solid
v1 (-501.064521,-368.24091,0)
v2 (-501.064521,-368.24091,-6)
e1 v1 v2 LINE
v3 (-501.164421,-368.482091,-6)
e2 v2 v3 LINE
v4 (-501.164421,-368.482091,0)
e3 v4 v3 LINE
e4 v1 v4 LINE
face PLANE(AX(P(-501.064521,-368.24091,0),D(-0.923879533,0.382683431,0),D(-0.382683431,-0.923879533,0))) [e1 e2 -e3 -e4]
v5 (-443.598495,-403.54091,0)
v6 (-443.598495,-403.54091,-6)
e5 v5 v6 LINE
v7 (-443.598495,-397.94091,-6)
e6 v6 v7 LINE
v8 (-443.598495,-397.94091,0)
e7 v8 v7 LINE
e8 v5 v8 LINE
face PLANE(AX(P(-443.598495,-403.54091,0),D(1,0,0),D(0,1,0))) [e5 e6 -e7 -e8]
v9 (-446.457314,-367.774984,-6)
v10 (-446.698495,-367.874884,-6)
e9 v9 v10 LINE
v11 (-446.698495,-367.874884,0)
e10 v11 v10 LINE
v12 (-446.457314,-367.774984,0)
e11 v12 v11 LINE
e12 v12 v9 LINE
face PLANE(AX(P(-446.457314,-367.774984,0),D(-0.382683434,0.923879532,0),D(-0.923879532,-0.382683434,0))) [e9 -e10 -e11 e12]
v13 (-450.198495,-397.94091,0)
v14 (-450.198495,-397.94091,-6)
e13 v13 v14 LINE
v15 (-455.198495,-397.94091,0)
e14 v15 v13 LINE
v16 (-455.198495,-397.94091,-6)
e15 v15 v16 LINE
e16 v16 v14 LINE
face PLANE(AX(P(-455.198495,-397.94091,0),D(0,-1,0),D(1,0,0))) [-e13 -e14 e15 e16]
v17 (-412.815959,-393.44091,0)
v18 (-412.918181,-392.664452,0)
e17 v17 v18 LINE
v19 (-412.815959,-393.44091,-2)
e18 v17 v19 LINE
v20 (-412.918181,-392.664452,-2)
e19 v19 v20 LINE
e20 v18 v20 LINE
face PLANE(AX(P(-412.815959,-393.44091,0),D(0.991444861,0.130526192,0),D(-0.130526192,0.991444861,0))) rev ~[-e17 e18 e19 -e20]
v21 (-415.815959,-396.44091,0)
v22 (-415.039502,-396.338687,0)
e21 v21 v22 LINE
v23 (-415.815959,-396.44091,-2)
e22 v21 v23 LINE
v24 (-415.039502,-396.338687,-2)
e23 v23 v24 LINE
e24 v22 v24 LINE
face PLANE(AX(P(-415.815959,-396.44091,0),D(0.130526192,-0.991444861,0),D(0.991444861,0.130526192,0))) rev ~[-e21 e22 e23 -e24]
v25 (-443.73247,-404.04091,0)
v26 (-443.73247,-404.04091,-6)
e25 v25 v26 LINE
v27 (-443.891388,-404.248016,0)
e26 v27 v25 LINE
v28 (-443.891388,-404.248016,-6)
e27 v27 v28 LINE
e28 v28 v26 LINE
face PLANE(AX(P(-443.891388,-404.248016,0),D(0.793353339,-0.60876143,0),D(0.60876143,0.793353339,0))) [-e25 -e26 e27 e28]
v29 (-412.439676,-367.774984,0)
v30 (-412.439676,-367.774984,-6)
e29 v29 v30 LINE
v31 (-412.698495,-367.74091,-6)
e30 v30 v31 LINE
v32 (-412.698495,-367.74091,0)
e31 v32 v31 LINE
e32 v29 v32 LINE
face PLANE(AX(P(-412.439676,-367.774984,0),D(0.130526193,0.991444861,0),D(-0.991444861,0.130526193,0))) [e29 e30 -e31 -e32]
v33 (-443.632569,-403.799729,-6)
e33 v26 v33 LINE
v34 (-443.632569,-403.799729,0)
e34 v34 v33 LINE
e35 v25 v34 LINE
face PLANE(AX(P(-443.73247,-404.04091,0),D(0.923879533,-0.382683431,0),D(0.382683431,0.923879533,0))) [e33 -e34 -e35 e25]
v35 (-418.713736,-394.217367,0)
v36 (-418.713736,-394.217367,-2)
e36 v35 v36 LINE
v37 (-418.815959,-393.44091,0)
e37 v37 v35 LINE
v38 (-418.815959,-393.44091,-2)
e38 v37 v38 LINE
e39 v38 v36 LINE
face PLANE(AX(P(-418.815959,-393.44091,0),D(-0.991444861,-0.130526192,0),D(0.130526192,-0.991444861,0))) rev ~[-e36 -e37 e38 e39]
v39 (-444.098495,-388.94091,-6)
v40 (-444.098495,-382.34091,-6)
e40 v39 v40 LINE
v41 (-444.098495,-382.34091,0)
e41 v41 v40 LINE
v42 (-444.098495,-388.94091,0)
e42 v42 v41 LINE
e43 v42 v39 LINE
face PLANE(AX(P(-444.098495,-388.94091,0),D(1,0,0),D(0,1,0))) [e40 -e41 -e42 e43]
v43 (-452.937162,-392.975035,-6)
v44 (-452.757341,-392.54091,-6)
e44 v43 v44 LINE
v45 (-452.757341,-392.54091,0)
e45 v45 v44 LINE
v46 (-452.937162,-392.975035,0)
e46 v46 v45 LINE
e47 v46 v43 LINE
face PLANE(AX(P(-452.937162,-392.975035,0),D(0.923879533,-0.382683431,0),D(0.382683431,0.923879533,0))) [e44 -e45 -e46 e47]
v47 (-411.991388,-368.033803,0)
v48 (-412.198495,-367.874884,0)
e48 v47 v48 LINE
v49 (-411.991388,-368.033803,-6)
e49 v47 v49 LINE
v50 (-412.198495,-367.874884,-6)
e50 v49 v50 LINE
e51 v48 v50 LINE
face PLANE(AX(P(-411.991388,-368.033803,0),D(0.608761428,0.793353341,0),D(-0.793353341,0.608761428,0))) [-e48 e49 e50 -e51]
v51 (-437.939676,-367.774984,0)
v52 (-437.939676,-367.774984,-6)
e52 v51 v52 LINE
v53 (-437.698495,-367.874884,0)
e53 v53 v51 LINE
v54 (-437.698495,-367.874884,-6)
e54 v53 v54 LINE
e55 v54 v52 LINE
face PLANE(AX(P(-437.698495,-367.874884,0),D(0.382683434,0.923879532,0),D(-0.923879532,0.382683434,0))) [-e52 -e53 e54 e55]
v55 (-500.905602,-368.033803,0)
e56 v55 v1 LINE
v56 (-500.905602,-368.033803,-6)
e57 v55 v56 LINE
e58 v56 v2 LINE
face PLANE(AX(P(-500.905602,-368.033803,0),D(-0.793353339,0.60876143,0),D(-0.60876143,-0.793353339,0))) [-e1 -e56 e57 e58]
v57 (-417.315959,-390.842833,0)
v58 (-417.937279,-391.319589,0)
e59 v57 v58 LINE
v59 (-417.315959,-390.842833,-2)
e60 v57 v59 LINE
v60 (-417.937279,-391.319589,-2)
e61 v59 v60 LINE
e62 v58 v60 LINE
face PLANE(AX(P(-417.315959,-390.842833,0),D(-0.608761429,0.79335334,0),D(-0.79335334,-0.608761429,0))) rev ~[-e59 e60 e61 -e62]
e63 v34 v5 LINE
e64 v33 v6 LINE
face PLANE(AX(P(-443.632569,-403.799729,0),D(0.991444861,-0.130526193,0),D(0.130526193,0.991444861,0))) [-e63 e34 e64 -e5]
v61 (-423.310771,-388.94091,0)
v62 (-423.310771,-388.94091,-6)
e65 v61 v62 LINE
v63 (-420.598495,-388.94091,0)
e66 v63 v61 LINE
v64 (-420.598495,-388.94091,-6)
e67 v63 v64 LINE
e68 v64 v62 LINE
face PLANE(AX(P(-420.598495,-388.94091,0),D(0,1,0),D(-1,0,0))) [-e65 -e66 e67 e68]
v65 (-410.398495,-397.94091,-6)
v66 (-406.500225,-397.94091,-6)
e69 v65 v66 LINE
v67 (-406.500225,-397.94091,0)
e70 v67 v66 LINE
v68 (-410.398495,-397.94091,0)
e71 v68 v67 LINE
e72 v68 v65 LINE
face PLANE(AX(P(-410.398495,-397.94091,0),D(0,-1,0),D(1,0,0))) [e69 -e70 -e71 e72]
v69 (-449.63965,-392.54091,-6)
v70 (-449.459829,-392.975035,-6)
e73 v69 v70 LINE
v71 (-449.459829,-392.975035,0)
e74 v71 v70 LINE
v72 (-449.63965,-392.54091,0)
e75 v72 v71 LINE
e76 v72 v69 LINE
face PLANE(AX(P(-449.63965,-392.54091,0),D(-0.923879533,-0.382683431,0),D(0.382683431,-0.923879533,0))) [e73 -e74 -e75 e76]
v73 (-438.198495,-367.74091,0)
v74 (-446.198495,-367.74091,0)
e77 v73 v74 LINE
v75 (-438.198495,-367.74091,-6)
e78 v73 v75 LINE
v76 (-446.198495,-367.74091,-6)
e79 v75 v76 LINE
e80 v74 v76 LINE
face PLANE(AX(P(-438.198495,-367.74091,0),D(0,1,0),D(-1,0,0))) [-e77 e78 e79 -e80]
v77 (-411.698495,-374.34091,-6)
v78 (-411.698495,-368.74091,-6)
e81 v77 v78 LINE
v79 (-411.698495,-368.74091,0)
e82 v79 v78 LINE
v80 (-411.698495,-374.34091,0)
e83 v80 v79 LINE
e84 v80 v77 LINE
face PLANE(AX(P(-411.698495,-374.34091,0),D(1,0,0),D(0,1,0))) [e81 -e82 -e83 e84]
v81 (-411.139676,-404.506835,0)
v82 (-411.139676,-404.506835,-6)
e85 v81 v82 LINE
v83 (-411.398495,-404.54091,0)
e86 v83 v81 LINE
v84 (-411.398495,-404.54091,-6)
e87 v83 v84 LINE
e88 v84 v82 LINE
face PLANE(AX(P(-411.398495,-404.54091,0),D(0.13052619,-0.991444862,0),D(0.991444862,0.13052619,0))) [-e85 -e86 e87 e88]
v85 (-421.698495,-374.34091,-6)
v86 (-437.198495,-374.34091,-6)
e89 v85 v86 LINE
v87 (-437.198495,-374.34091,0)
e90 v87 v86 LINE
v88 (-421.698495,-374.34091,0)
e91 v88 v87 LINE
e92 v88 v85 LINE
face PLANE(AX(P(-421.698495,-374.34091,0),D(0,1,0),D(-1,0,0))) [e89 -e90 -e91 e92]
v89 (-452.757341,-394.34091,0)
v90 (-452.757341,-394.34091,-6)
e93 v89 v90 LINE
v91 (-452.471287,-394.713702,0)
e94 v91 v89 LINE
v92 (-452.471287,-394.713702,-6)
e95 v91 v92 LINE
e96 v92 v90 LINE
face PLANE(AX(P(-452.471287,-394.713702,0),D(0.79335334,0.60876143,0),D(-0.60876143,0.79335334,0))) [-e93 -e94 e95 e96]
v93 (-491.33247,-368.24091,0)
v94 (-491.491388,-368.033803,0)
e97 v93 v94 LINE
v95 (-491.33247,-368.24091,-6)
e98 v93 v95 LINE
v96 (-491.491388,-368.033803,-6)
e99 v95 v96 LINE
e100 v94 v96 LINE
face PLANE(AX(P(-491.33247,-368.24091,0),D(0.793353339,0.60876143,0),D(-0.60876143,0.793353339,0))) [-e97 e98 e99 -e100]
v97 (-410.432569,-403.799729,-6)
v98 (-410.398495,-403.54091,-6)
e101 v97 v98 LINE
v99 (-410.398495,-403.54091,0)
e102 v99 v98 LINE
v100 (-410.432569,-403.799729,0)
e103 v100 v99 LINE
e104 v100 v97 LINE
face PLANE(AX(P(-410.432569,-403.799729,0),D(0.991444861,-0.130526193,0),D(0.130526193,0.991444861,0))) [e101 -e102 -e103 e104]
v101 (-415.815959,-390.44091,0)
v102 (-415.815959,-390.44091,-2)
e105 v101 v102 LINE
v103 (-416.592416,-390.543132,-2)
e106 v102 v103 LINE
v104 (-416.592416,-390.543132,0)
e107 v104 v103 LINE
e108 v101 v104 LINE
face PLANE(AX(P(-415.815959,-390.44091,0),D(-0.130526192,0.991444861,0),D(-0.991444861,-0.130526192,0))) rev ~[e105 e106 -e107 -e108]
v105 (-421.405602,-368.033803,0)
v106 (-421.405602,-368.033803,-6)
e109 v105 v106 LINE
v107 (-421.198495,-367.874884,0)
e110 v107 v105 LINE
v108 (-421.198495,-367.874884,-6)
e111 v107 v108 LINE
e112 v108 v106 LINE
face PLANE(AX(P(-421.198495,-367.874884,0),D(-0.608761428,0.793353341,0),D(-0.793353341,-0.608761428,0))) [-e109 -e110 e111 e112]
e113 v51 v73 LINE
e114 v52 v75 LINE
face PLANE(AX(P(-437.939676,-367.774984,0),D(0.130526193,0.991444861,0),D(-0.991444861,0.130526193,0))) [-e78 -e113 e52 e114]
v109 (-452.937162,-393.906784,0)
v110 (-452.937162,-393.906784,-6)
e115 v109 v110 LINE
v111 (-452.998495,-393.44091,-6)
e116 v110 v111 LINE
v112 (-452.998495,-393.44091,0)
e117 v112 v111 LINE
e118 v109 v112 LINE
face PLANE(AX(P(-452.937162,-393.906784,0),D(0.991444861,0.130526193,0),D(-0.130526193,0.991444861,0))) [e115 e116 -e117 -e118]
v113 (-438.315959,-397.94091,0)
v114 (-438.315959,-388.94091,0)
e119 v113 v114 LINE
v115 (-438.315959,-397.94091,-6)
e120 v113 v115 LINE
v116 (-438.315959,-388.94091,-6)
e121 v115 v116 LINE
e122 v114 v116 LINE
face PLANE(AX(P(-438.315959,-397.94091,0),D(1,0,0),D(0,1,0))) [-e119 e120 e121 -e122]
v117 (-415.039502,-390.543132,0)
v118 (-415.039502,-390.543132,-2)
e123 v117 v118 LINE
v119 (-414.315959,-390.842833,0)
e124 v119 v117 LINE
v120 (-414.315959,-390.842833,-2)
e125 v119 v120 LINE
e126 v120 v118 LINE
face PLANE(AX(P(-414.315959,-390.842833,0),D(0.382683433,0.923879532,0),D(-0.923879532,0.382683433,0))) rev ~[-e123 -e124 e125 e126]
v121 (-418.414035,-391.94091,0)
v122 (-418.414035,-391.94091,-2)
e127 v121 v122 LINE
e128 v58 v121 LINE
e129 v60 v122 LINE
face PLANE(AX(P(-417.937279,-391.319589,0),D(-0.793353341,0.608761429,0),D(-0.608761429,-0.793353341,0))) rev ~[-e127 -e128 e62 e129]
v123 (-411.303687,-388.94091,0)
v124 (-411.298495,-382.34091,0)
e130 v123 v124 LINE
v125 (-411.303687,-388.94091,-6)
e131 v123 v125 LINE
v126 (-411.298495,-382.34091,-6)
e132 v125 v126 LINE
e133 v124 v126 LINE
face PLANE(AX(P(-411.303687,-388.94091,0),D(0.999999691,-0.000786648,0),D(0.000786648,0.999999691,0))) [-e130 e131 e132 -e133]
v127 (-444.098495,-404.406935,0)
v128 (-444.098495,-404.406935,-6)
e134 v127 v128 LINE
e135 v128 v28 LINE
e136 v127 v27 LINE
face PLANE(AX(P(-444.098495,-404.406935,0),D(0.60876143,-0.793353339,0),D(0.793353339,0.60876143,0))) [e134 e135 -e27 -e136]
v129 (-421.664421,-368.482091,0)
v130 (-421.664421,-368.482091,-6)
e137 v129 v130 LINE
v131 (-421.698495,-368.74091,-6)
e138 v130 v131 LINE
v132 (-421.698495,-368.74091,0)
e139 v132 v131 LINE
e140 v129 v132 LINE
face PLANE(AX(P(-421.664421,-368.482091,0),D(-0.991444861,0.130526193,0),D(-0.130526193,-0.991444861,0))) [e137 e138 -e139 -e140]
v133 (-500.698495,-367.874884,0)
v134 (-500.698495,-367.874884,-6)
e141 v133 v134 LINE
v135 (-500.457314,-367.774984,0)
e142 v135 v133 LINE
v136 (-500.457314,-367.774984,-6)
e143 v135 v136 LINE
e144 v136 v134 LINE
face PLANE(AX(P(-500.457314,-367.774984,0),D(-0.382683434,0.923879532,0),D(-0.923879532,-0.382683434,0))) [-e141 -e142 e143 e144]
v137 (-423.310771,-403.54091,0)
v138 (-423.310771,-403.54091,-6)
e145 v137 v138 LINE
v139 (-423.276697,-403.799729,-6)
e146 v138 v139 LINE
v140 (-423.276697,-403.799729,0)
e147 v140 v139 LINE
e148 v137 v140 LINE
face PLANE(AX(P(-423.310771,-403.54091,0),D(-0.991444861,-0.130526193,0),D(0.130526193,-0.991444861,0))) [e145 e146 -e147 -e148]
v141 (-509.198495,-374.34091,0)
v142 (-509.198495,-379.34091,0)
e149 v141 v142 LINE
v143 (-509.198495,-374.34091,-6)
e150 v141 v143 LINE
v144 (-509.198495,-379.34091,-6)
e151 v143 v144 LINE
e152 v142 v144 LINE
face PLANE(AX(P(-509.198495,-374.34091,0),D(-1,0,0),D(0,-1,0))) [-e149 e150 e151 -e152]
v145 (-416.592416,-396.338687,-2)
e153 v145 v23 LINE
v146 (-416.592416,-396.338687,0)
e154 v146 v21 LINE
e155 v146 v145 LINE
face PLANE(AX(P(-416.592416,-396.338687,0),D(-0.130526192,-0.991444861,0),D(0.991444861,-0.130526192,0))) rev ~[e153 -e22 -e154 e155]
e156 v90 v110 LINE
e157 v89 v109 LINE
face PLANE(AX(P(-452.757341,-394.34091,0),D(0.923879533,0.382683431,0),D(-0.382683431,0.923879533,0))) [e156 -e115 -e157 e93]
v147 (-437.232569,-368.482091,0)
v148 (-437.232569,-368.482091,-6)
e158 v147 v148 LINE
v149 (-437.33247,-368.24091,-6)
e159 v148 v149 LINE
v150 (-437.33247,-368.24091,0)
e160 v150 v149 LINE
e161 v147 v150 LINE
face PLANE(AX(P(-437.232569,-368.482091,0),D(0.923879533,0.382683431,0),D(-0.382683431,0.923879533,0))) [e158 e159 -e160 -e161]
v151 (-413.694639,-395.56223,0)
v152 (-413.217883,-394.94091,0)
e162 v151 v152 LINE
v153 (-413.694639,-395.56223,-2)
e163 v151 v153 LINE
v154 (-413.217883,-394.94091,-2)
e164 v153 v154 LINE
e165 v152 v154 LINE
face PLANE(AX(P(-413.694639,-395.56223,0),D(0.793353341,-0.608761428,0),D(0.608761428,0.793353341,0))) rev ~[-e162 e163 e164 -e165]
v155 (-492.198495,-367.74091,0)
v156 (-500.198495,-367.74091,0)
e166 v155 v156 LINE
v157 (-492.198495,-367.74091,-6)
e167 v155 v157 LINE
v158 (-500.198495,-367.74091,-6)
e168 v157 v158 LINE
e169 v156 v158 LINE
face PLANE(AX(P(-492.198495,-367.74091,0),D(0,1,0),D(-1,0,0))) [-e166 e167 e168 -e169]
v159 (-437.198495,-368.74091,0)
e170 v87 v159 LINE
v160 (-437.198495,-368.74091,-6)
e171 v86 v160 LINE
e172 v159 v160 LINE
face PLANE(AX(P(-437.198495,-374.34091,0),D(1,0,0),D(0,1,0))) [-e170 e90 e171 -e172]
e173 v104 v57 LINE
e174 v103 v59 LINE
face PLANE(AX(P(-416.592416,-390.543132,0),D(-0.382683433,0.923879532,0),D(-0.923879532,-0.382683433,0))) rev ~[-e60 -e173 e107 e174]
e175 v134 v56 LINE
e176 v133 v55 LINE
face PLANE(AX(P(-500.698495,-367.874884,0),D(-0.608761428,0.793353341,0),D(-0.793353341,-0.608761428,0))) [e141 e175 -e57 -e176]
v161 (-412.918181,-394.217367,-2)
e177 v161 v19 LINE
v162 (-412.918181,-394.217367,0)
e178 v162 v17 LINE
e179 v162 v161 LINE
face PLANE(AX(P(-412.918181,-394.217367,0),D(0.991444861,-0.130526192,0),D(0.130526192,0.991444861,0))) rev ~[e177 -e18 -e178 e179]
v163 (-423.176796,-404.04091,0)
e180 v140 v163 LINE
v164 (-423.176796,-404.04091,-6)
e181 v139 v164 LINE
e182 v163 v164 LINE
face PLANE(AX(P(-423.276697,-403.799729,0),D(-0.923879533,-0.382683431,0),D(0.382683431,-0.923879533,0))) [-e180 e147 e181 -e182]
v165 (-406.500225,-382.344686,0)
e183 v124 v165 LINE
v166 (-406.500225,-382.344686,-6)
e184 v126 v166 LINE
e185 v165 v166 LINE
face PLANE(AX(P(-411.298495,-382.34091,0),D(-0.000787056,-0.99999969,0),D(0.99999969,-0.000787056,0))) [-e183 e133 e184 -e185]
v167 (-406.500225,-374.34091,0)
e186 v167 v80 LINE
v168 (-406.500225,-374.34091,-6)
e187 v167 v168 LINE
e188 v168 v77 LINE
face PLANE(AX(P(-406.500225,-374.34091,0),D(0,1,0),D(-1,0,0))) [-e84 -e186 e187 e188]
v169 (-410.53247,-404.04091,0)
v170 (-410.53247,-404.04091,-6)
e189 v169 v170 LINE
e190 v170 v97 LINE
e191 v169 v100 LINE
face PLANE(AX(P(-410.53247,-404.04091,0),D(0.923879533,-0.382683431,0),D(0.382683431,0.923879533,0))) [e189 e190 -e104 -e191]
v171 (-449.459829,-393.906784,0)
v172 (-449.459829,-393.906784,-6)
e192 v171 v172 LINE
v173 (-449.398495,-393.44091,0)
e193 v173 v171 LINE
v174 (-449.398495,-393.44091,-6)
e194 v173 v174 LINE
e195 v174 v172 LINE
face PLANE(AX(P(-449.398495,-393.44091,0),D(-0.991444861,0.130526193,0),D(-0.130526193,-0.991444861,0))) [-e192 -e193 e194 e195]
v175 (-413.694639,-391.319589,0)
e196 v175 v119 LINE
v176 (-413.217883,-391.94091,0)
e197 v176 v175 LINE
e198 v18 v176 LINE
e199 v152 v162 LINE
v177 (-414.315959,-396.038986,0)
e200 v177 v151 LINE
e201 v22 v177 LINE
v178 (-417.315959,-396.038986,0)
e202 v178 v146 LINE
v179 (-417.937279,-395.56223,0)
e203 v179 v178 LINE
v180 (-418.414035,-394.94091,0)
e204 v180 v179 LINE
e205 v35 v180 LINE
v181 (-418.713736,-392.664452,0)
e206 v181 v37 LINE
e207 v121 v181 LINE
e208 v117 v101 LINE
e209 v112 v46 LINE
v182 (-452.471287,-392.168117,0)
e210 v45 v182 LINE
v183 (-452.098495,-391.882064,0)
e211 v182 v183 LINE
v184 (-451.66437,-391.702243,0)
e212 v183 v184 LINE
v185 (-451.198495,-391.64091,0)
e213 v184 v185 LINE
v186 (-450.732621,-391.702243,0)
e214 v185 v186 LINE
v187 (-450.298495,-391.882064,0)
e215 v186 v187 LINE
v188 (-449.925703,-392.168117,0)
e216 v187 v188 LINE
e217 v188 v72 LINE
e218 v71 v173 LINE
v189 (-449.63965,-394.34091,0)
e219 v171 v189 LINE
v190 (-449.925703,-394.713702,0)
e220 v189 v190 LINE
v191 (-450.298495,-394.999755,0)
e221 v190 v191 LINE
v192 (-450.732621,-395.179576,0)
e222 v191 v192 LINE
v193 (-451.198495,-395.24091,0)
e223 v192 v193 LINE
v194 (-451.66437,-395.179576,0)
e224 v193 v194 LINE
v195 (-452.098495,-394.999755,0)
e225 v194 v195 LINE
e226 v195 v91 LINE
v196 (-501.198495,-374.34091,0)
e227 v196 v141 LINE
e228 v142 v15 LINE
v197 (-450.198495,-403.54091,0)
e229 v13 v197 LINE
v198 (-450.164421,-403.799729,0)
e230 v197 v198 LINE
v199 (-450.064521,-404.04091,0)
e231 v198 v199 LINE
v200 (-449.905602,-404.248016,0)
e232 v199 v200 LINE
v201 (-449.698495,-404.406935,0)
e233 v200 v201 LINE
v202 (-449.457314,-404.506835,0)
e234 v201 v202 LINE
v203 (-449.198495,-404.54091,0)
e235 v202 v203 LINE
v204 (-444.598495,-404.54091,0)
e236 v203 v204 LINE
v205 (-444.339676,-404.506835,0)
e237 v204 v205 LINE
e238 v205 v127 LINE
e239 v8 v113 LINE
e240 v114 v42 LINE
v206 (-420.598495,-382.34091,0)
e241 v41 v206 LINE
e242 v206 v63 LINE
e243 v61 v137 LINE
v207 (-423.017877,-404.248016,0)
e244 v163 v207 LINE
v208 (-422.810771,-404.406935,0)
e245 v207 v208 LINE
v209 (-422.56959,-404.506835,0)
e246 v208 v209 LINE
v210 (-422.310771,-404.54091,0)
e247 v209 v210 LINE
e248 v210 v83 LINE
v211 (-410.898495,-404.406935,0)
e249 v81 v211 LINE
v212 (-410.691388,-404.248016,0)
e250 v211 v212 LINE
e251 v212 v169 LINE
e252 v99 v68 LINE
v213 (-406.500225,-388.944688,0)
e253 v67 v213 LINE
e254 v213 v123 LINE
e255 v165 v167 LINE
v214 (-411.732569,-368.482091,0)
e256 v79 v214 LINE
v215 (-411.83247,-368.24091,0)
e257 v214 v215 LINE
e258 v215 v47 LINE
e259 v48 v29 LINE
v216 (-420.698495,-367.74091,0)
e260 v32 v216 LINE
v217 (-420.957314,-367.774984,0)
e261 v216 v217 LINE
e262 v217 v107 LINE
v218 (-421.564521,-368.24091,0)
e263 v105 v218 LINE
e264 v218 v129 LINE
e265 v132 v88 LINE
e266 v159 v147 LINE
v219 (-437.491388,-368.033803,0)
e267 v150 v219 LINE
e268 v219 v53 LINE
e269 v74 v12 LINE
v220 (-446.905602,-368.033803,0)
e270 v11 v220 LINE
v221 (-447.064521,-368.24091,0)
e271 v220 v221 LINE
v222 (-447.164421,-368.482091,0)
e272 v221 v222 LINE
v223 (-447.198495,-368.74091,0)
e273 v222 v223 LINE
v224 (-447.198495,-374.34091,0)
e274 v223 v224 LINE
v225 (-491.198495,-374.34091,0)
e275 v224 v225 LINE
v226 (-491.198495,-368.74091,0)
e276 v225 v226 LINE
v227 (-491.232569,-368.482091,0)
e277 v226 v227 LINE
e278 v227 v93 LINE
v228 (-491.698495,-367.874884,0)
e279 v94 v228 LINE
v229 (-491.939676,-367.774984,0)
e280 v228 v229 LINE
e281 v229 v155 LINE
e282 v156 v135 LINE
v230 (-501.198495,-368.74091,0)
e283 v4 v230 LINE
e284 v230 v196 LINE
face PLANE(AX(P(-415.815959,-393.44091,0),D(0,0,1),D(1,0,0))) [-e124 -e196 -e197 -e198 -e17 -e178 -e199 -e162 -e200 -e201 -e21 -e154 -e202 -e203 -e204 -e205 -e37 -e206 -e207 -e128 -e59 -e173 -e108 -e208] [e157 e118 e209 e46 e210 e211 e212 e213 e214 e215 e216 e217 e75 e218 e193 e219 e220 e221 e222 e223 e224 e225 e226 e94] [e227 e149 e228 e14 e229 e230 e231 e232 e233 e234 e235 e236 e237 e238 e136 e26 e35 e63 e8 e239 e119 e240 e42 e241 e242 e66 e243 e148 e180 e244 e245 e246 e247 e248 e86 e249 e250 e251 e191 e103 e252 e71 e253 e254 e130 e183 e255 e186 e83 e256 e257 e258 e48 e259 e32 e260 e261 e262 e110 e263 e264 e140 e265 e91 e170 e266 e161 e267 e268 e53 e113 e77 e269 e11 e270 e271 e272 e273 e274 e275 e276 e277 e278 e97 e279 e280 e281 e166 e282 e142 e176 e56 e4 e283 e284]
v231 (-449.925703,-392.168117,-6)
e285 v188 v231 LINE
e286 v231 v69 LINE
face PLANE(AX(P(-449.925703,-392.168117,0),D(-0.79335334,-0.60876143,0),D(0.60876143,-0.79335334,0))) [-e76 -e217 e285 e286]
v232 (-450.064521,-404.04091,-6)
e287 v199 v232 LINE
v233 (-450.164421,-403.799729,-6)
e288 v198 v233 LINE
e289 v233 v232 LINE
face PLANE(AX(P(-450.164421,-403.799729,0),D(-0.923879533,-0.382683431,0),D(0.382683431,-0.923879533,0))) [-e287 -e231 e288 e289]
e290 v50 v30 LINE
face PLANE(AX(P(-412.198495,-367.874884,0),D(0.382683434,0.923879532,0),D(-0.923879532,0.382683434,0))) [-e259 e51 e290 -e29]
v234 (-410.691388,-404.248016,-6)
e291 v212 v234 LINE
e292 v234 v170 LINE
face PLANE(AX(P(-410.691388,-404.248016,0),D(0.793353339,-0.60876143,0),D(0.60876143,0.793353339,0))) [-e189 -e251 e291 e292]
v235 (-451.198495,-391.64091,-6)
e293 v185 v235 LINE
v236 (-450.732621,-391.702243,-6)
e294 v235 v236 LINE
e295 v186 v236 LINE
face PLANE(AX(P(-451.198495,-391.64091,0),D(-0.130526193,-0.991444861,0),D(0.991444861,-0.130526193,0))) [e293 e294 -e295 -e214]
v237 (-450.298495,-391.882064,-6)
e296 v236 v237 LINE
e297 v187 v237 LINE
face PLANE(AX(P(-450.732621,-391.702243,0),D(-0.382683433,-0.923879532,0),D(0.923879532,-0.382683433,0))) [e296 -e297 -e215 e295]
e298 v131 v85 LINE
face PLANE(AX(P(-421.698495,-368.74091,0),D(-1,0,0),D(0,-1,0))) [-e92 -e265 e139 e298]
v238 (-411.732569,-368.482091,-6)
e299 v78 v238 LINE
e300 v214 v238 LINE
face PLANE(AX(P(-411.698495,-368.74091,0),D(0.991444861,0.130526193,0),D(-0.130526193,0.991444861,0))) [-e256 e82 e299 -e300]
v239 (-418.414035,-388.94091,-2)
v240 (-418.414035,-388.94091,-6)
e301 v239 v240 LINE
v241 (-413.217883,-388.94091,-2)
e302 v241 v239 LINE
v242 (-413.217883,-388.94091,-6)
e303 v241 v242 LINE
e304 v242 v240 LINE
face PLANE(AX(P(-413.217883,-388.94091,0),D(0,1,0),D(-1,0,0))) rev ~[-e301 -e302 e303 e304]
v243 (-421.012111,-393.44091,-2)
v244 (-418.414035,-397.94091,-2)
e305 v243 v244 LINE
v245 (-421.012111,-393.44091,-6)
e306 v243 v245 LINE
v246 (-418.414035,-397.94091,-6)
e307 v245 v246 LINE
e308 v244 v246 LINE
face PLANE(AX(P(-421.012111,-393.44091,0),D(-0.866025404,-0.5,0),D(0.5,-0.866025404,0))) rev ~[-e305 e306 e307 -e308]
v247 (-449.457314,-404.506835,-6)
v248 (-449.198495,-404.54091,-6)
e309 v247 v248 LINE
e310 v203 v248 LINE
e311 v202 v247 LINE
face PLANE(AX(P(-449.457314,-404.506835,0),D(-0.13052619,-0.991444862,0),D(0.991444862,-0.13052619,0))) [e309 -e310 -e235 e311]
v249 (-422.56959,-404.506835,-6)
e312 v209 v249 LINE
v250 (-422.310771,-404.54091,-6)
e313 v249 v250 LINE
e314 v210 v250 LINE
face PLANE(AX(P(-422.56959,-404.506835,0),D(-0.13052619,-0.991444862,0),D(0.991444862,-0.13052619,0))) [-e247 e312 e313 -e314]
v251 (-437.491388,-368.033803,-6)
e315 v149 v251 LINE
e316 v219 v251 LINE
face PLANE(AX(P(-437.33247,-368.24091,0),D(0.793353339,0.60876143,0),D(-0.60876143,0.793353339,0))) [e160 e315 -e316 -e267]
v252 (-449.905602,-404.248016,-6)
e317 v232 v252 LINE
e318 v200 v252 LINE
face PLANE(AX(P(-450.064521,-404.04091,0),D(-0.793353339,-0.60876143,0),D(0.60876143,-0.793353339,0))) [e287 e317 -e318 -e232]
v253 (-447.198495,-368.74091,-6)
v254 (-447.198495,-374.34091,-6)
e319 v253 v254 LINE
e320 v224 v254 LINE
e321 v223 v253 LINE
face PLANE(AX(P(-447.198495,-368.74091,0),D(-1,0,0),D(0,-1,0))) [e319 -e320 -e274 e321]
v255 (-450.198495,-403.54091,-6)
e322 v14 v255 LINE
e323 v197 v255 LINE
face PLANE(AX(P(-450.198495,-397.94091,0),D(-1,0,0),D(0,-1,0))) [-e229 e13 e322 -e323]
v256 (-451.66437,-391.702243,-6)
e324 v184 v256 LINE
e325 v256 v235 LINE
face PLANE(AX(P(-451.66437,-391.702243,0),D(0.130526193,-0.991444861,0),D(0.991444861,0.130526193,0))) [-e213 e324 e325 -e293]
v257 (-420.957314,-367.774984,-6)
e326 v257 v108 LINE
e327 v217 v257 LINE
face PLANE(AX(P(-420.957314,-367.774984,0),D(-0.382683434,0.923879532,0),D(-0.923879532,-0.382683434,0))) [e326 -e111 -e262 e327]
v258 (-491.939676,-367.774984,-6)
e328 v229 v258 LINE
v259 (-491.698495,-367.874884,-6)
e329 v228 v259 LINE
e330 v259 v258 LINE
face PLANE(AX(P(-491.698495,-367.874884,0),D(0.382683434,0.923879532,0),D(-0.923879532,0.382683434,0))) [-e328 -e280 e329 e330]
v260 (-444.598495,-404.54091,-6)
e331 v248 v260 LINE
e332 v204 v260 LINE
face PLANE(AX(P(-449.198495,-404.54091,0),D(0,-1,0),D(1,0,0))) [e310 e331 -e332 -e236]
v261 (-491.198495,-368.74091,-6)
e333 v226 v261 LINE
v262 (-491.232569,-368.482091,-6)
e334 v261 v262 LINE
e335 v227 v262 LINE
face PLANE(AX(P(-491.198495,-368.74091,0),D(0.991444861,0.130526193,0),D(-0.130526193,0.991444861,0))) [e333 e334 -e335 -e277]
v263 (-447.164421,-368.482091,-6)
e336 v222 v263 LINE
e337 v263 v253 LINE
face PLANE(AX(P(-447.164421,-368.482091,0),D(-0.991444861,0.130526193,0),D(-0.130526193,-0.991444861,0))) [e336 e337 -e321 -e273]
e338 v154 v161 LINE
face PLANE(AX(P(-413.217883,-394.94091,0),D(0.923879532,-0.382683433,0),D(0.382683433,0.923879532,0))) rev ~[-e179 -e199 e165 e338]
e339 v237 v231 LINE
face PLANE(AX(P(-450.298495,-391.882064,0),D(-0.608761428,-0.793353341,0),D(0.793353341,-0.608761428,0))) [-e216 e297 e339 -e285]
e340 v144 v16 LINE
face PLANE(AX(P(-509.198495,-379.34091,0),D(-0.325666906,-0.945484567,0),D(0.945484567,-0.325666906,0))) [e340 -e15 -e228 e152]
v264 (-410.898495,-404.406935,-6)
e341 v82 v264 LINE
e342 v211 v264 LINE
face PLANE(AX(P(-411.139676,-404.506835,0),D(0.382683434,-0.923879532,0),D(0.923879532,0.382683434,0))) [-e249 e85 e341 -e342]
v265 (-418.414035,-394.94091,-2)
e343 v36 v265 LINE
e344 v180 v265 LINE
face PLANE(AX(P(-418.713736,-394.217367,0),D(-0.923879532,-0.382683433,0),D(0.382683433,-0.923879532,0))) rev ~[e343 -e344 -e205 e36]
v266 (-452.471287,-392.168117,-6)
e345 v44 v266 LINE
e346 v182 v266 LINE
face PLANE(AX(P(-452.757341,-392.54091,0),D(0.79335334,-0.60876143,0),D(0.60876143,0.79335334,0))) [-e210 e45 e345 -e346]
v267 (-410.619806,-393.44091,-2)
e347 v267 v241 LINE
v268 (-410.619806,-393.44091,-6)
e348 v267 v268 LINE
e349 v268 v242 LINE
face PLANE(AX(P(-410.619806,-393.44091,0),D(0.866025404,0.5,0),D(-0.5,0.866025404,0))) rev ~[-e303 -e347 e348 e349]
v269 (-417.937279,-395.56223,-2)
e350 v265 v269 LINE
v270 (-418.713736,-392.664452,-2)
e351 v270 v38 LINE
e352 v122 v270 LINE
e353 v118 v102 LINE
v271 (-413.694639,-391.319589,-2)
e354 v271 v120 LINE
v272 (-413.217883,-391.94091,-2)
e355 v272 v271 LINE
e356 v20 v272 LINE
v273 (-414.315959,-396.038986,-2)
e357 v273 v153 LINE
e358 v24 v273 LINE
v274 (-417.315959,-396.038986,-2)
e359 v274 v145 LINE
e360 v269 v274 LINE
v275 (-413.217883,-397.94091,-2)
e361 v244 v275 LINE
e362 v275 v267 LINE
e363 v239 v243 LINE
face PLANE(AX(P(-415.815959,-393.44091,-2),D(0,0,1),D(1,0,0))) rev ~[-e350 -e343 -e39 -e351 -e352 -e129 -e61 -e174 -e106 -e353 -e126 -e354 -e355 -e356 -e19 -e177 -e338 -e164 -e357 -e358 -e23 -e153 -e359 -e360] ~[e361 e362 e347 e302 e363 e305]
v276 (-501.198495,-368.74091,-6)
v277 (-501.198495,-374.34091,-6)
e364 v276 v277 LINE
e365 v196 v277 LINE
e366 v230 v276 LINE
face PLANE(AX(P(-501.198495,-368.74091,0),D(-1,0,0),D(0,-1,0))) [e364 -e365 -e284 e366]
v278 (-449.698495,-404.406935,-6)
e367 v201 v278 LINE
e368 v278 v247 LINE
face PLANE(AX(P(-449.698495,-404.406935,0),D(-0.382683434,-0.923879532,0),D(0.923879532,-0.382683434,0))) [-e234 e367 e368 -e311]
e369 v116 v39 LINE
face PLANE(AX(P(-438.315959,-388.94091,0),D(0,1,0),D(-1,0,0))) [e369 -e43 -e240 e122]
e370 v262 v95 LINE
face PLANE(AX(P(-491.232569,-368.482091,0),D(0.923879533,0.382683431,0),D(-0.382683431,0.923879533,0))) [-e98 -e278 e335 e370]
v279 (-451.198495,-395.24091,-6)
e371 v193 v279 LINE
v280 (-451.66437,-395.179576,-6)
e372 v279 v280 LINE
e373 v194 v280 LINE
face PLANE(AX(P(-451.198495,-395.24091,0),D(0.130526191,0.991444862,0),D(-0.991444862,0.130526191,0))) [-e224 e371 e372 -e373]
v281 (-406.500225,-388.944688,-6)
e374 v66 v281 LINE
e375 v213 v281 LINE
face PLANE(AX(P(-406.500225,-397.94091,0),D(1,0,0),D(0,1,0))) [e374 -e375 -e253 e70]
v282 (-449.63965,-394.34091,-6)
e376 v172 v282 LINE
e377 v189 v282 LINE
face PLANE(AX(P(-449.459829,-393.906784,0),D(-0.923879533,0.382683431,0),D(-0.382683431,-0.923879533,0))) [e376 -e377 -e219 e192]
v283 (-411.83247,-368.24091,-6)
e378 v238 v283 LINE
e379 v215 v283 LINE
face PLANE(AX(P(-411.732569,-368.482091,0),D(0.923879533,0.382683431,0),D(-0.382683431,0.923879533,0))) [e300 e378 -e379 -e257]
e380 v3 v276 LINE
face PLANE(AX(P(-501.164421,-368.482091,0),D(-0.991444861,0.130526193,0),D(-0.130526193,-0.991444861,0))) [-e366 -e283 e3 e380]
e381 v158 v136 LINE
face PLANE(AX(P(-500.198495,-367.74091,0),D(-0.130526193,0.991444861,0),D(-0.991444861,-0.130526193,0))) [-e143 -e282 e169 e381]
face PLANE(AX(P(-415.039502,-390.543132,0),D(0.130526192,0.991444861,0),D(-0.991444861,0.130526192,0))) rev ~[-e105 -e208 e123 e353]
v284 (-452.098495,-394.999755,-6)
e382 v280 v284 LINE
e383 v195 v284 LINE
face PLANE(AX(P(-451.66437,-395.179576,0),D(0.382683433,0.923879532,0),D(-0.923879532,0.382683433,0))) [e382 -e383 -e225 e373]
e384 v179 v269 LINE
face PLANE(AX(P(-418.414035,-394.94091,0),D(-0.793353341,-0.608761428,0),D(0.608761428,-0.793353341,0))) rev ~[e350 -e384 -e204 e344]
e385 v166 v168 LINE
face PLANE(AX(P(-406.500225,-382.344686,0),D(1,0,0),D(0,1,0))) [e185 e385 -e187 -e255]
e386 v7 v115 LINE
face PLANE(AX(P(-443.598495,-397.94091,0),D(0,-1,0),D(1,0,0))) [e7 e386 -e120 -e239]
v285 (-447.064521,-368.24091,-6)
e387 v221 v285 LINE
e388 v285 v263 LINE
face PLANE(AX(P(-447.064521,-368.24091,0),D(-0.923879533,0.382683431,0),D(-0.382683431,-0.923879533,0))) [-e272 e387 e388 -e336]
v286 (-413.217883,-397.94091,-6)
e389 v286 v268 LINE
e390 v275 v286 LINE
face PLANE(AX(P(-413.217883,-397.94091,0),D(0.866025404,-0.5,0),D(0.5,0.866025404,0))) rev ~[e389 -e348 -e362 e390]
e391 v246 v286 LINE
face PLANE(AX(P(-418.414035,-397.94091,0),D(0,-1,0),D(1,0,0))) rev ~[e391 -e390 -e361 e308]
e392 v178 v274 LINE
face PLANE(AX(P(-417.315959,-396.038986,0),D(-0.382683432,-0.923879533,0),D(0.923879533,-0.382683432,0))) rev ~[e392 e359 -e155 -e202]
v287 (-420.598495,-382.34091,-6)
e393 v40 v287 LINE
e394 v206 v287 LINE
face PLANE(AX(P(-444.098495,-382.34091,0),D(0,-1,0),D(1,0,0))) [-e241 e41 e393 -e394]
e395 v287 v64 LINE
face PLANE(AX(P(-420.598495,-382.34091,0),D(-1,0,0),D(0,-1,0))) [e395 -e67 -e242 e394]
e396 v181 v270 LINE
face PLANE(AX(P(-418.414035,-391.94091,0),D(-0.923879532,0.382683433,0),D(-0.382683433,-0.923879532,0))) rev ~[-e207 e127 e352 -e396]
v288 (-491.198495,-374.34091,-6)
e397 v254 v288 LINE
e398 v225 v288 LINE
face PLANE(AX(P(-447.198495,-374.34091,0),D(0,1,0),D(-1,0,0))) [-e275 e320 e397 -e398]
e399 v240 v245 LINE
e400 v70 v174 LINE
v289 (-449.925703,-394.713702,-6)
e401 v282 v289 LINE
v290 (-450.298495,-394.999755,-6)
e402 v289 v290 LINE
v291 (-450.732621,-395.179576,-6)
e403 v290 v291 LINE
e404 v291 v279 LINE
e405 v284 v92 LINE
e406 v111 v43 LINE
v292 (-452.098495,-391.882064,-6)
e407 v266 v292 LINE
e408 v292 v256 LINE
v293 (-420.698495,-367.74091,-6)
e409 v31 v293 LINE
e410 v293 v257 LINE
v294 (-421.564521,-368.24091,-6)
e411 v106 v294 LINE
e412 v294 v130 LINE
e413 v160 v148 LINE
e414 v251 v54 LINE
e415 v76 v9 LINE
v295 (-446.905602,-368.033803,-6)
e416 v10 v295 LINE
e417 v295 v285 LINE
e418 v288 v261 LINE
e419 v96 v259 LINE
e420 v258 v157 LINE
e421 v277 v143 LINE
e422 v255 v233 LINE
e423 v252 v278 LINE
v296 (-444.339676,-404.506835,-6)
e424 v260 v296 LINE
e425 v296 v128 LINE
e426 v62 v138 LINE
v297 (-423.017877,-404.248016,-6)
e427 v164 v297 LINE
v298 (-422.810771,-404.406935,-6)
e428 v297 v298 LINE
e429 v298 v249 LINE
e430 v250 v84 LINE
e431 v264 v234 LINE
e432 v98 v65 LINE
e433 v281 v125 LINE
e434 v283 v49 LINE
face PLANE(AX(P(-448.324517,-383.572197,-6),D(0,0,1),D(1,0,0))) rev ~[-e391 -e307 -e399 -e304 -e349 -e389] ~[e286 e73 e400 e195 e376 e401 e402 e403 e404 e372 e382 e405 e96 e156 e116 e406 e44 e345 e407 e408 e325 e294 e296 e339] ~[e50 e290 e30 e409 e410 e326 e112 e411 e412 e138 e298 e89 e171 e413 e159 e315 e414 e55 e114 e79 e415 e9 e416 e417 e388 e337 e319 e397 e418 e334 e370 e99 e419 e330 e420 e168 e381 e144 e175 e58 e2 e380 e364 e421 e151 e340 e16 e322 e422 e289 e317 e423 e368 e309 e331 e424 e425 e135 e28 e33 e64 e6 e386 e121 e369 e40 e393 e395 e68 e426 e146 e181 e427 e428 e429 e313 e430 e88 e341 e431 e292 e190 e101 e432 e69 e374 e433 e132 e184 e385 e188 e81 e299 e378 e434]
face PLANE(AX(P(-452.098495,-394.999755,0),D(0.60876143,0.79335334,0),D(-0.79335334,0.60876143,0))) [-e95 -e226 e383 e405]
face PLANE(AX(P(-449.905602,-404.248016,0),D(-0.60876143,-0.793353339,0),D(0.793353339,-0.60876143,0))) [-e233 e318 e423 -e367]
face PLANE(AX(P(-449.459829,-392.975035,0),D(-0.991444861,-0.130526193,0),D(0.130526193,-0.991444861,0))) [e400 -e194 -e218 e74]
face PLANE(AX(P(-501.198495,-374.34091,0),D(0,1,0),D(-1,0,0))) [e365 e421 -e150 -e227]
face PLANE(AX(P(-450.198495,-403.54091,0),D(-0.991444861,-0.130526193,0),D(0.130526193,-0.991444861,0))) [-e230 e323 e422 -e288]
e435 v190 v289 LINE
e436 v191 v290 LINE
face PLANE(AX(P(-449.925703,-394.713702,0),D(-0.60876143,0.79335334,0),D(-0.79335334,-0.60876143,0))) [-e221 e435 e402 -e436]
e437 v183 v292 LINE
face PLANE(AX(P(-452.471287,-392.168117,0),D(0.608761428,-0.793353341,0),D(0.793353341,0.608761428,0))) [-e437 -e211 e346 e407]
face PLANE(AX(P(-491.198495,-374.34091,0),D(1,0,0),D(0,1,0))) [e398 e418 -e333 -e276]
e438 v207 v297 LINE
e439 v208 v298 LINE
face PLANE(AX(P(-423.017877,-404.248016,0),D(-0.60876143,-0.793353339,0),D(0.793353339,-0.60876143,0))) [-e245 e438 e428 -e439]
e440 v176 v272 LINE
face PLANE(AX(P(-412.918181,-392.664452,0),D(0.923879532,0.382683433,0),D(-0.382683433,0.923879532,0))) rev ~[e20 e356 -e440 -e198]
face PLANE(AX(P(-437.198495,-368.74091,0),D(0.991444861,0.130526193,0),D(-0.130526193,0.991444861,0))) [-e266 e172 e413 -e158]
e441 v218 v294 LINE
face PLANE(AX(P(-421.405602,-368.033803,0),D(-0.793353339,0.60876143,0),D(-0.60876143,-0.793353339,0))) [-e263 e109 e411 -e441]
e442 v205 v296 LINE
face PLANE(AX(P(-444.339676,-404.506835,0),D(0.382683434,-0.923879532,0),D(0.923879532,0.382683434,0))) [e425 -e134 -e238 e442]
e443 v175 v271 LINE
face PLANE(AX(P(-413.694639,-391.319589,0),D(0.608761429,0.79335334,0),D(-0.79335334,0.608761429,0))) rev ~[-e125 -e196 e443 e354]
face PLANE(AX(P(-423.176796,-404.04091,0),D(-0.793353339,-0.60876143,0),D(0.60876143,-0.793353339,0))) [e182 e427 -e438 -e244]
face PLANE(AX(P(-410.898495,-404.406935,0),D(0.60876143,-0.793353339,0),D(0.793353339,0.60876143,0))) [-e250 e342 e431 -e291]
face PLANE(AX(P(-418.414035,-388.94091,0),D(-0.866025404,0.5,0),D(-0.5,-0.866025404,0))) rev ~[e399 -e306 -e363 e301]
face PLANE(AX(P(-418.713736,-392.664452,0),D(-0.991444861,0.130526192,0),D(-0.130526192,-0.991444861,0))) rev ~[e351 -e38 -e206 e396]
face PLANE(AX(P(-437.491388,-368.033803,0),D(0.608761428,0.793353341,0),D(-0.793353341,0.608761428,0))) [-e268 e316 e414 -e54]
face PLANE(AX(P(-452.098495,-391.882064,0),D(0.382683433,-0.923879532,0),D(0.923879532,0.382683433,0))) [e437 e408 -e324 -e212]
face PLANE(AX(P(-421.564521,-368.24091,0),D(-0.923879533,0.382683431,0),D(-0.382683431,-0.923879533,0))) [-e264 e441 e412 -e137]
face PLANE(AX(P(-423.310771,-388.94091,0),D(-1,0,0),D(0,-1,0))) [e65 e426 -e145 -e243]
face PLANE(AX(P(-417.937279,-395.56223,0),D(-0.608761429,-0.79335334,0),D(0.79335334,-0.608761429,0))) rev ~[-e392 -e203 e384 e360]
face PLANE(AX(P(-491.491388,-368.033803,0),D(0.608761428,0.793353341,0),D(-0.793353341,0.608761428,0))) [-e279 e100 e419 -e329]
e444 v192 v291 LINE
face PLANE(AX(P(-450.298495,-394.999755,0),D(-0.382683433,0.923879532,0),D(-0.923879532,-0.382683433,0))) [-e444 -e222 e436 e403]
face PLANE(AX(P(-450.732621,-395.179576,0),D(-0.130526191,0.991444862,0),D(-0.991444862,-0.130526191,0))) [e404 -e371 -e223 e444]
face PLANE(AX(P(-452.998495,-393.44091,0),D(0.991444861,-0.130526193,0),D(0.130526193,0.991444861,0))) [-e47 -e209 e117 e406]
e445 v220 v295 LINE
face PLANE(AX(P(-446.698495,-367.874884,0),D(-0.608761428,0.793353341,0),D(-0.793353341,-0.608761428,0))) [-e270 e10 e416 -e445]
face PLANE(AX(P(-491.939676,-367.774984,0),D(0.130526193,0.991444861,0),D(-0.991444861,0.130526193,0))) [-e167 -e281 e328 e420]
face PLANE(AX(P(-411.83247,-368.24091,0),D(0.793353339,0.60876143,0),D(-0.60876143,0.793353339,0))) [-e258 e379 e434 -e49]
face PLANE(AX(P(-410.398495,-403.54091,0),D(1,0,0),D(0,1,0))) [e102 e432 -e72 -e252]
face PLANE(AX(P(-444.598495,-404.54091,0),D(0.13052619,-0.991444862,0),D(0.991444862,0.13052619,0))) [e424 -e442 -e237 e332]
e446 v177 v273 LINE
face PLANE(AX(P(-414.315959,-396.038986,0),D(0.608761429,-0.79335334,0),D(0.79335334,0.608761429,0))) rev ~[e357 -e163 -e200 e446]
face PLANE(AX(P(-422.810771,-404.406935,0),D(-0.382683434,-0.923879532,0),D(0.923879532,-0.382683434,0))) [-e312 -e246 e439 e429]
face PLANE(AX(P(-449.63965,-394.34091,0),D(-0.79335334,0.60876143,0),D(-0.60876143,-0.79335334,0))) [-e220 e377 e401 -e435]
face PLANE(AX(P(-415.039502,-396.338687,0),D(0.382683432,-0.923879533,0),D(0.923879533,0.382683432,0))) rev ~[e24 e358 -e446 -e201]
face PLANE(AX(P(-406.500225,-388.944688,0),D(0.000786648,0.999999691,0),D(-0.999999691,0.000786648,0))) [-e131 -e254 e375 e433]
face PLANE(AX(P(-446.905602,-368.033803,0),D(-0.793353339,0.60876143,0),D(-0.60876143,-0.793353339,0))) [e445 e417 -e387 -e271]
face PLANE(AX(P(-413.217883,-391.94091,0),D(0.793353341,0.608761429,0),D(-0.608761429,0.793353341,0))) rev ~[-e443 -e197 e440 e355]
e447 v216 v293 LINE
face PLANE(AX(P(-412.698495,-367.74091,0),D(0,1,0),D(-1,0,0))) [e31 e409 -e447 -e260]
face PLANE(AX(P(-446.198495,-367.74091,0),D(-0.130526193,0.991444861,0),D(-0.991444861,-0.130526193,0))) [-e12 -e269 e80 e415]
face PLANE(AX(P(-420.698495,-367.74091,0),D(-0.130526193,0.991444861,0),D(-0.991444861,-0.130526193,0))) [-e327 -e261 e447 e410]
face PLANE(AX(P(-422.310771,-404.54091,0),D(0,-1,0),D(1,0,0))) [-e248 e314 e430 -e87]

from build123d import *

# Parameters (mm, degrees)
BOSS_EXTRUDE1_DEPTH = 6
BOSS_EXTRUDE2_DEPTH = 2


with BuildPart() as part:
    # Sketch1 → Boss-Extrude1 (new body)
    with BuildSketch(Plane.XY):
        Polygon((-501.164421084, -368.48209059), (-501.198495258, -368.740909635), (-501.198495258, -374.340909635), (-509.198495258, -374.340909635), (-509.198495258, -379.340909635), (-455.198495258, -397.940909635), (-450.198495258, -397.940909635), (-450.198495258, -403.540909635), (-450.164421084, -403.79972868), (-450.064520662, -404.040909635), (-449.905602039, -404.248016416), (-449.698495258, -404.406935039), (-449.457314303, -404.506835462), (-449.198495258, -404.540909635), (-444.598495258, -404.540909635), (-444.339676213, -404.506835462), (-444.098495258, -404.406935039), (-443.891388477, -404.248016416), (-443.732469854, -404.040909635), (-443.632569432, -403.79972868), (-443.598495258, -403.540909635), (-443.598495258, -397.940909635), (-438.315958847, -397.940909635), (-438.315958847, -388.940909635), (-444.098495258, -388.940909635), (-444.098495258, -382.340909635), (-420.598495258, -382.340909635), (-420.598495258, -388.940909635), (-423.310770682, -388.940909635), (-423.310770682, -403.540909635), (-423.276696508, -403.79972868), (-423.176796086, -404.040909635), (-423.017877463, -404.248016416), (-422.810770682, -404.406935039), (-422.569589727, -404.506835462), (-422.310770682, -404.540909635), (-411.398495258, -404.540909635), (-411.139676213, -404.506835462), (-410.898495258, -404.406935039), (-410.691388477, -404.248016416), (-410.532469854, -404.040909635), (-410.432569432, -403.79972868), (-410.398495258, -403.540909635), (-410.398495258, -397.940909635), (-406.500225377, -397.940909635), (-406.500225377, -388.94468827), (-411.303687136, -388.940909635), (-411.298495258, -382.340909635), (-406.500225377, -382.344686145), (-406.500225377, -374.340909635), (-411.698495258, -374.340909635), (-411.698495258, -368.740909635), (-411.732569432, -368.48209059), (-411.832469854, -368.240909635), (-411.991388477, -368.033802854), (-412.198495258, -367.874884232), (-412.439676213, -367.774983809), (-412.698495258, -367.740909635), (-420.698495258, -367.740909635), (-420.957314303, -367.774983809), (-421.198495258, -367.874884232), (-421.405602039, -368.033802854), (-421.564520662, -368.240909635), (-421.664421084, -368.48209059), (-421.698495258, -368.740909635), (-421.698495258, -374.340909635), (-437.198495258, -374.340909635), (-437.198495258, -368.740909635), (-437.232569432, -368.48209059), (-437.332469854, -368.240909635), (-437.491388477, -368.033802854), (-437.698495258, -367.874884232), (-437.939676213, -367.774983809), (-438.198495258, -367.740909635), (-446.198495258, -367.740909635), (-446.457314303, -367.774983809), (-446.698495258, -367.874884232), (-446.905602039, -368.033802854), (-447.064520662, -368.240909635), (-447.164421084, -368.48209059), (-447.198495258, -368.740909635), (-447.198495258, -374.340909635), (-491.198495258, -374.340909635), (-491.198495258, -368.740909635), (-491.232569432, -368.48209059), (-491.332469854, -368.240909635), (-491.491388477, -368.033802854), (-491.698495258, -367.874884232), (-491.939676213, -367.774983809), (-492.198495258, -367.740909635), (-500.198495258, -367.740909635), (-500.457314303, -367.774983809), (-500.698495258, -367.874884232), (-500.905602039, -368.033802854), (-501.064520662, -368.240909635), align=None)
        Polygon((-451.664369539, -391.702243148), (-451.198495258, -391.640909635), (-450.732620977, -391.702243148), (-450.298495258, -391.882063909), (-449.925703052, -392.168117429), (-449.639649531, -392.540909635), (-449.459828771, -392.975035354), (-449.398495258, -393.440909635), (-449.459828771, -393.906783916), (-449.639649531, -394.340909635), (-449.925703052, -394.713701841), (-450.298495258, -394.999755362), (-450.732620977, -395.179576123), (-451.198495258, -395.240909635), (-451.664369539, -395.179576123), (-452.098495258, -394.999755362), (-452.471287464, -394.713701841), (-452.757340985, -394.340909635), (-452.937161745, -393.906783916), (-452.998495258, -393.440909635), (-452.937161745, -392.975035354), (-452.757340985, -392.540909635), (-452.471287464, -392.168117429), (-452.098495258, -391.882063909), align=None, mode=Mode.SUBTRACT)
        Polygon((-418.414035058, -388.940909635), (-413.217882636, -388.940909635), (-410.619806424, -393.440909635), (-413.217882636, -397.940909635), (-418.414035058, -397.940909635), (-421.01211127, -393.440909635), align=None, mode=Mode.SUBTRACT)
    extrude(amount=-BOSS_EXTRUDE1_DEPTH)

    # Sketch1<3> → Boss-Extrude2 (add)
    with BuildSketch(Plane.XY):
        Polygon((-410.619806424, -393.440909635), (-413.217882636, -388.940909635), (-418.414035058, -388.940909635), (-421.01211127, -393.440909635), (-418.414035058, -397.940909635), (-413.217882636, -397.940909635), align=None)
        Polygon((-415.039501712, -390.543132156), (-414.315958847, -390.842833424), (-413.694638503, -391.319589292), (-413.217882636, -391.940909635), (-412.918181368, -392.6644525), (-412.815958847, -393.440909635), (-412.918181368, -394.217366771), (-413.217882636, -394.940909635), (-413.694638503, -395.562229979), (-414.315958847, -396.038985847), (-415.039501712, -396.338687114), (-415.815958847, -396.440909635), (-416.592415982, -396.338687114), (-417.315958847, -396.038985847), (-417.937279191, -395.562229979), (-418.414035058, -394.940909635), (-418.713736326, -394.217366771), (-418.815958847, -393.440909635), (-418.713736326, -392.6644525), (-418.414035058, -391.940909635), (-417.937279191, -391.319589292), (-417.315958847, -390.842833424), (-416.592415982, -390.543132156), (-415.815958847, -390.440909635), align=None, mode=Mode.SUBTRACT)
    extrude(amount=-BOSS_EXTRUDE2_DEPTH)


solid = part.part
